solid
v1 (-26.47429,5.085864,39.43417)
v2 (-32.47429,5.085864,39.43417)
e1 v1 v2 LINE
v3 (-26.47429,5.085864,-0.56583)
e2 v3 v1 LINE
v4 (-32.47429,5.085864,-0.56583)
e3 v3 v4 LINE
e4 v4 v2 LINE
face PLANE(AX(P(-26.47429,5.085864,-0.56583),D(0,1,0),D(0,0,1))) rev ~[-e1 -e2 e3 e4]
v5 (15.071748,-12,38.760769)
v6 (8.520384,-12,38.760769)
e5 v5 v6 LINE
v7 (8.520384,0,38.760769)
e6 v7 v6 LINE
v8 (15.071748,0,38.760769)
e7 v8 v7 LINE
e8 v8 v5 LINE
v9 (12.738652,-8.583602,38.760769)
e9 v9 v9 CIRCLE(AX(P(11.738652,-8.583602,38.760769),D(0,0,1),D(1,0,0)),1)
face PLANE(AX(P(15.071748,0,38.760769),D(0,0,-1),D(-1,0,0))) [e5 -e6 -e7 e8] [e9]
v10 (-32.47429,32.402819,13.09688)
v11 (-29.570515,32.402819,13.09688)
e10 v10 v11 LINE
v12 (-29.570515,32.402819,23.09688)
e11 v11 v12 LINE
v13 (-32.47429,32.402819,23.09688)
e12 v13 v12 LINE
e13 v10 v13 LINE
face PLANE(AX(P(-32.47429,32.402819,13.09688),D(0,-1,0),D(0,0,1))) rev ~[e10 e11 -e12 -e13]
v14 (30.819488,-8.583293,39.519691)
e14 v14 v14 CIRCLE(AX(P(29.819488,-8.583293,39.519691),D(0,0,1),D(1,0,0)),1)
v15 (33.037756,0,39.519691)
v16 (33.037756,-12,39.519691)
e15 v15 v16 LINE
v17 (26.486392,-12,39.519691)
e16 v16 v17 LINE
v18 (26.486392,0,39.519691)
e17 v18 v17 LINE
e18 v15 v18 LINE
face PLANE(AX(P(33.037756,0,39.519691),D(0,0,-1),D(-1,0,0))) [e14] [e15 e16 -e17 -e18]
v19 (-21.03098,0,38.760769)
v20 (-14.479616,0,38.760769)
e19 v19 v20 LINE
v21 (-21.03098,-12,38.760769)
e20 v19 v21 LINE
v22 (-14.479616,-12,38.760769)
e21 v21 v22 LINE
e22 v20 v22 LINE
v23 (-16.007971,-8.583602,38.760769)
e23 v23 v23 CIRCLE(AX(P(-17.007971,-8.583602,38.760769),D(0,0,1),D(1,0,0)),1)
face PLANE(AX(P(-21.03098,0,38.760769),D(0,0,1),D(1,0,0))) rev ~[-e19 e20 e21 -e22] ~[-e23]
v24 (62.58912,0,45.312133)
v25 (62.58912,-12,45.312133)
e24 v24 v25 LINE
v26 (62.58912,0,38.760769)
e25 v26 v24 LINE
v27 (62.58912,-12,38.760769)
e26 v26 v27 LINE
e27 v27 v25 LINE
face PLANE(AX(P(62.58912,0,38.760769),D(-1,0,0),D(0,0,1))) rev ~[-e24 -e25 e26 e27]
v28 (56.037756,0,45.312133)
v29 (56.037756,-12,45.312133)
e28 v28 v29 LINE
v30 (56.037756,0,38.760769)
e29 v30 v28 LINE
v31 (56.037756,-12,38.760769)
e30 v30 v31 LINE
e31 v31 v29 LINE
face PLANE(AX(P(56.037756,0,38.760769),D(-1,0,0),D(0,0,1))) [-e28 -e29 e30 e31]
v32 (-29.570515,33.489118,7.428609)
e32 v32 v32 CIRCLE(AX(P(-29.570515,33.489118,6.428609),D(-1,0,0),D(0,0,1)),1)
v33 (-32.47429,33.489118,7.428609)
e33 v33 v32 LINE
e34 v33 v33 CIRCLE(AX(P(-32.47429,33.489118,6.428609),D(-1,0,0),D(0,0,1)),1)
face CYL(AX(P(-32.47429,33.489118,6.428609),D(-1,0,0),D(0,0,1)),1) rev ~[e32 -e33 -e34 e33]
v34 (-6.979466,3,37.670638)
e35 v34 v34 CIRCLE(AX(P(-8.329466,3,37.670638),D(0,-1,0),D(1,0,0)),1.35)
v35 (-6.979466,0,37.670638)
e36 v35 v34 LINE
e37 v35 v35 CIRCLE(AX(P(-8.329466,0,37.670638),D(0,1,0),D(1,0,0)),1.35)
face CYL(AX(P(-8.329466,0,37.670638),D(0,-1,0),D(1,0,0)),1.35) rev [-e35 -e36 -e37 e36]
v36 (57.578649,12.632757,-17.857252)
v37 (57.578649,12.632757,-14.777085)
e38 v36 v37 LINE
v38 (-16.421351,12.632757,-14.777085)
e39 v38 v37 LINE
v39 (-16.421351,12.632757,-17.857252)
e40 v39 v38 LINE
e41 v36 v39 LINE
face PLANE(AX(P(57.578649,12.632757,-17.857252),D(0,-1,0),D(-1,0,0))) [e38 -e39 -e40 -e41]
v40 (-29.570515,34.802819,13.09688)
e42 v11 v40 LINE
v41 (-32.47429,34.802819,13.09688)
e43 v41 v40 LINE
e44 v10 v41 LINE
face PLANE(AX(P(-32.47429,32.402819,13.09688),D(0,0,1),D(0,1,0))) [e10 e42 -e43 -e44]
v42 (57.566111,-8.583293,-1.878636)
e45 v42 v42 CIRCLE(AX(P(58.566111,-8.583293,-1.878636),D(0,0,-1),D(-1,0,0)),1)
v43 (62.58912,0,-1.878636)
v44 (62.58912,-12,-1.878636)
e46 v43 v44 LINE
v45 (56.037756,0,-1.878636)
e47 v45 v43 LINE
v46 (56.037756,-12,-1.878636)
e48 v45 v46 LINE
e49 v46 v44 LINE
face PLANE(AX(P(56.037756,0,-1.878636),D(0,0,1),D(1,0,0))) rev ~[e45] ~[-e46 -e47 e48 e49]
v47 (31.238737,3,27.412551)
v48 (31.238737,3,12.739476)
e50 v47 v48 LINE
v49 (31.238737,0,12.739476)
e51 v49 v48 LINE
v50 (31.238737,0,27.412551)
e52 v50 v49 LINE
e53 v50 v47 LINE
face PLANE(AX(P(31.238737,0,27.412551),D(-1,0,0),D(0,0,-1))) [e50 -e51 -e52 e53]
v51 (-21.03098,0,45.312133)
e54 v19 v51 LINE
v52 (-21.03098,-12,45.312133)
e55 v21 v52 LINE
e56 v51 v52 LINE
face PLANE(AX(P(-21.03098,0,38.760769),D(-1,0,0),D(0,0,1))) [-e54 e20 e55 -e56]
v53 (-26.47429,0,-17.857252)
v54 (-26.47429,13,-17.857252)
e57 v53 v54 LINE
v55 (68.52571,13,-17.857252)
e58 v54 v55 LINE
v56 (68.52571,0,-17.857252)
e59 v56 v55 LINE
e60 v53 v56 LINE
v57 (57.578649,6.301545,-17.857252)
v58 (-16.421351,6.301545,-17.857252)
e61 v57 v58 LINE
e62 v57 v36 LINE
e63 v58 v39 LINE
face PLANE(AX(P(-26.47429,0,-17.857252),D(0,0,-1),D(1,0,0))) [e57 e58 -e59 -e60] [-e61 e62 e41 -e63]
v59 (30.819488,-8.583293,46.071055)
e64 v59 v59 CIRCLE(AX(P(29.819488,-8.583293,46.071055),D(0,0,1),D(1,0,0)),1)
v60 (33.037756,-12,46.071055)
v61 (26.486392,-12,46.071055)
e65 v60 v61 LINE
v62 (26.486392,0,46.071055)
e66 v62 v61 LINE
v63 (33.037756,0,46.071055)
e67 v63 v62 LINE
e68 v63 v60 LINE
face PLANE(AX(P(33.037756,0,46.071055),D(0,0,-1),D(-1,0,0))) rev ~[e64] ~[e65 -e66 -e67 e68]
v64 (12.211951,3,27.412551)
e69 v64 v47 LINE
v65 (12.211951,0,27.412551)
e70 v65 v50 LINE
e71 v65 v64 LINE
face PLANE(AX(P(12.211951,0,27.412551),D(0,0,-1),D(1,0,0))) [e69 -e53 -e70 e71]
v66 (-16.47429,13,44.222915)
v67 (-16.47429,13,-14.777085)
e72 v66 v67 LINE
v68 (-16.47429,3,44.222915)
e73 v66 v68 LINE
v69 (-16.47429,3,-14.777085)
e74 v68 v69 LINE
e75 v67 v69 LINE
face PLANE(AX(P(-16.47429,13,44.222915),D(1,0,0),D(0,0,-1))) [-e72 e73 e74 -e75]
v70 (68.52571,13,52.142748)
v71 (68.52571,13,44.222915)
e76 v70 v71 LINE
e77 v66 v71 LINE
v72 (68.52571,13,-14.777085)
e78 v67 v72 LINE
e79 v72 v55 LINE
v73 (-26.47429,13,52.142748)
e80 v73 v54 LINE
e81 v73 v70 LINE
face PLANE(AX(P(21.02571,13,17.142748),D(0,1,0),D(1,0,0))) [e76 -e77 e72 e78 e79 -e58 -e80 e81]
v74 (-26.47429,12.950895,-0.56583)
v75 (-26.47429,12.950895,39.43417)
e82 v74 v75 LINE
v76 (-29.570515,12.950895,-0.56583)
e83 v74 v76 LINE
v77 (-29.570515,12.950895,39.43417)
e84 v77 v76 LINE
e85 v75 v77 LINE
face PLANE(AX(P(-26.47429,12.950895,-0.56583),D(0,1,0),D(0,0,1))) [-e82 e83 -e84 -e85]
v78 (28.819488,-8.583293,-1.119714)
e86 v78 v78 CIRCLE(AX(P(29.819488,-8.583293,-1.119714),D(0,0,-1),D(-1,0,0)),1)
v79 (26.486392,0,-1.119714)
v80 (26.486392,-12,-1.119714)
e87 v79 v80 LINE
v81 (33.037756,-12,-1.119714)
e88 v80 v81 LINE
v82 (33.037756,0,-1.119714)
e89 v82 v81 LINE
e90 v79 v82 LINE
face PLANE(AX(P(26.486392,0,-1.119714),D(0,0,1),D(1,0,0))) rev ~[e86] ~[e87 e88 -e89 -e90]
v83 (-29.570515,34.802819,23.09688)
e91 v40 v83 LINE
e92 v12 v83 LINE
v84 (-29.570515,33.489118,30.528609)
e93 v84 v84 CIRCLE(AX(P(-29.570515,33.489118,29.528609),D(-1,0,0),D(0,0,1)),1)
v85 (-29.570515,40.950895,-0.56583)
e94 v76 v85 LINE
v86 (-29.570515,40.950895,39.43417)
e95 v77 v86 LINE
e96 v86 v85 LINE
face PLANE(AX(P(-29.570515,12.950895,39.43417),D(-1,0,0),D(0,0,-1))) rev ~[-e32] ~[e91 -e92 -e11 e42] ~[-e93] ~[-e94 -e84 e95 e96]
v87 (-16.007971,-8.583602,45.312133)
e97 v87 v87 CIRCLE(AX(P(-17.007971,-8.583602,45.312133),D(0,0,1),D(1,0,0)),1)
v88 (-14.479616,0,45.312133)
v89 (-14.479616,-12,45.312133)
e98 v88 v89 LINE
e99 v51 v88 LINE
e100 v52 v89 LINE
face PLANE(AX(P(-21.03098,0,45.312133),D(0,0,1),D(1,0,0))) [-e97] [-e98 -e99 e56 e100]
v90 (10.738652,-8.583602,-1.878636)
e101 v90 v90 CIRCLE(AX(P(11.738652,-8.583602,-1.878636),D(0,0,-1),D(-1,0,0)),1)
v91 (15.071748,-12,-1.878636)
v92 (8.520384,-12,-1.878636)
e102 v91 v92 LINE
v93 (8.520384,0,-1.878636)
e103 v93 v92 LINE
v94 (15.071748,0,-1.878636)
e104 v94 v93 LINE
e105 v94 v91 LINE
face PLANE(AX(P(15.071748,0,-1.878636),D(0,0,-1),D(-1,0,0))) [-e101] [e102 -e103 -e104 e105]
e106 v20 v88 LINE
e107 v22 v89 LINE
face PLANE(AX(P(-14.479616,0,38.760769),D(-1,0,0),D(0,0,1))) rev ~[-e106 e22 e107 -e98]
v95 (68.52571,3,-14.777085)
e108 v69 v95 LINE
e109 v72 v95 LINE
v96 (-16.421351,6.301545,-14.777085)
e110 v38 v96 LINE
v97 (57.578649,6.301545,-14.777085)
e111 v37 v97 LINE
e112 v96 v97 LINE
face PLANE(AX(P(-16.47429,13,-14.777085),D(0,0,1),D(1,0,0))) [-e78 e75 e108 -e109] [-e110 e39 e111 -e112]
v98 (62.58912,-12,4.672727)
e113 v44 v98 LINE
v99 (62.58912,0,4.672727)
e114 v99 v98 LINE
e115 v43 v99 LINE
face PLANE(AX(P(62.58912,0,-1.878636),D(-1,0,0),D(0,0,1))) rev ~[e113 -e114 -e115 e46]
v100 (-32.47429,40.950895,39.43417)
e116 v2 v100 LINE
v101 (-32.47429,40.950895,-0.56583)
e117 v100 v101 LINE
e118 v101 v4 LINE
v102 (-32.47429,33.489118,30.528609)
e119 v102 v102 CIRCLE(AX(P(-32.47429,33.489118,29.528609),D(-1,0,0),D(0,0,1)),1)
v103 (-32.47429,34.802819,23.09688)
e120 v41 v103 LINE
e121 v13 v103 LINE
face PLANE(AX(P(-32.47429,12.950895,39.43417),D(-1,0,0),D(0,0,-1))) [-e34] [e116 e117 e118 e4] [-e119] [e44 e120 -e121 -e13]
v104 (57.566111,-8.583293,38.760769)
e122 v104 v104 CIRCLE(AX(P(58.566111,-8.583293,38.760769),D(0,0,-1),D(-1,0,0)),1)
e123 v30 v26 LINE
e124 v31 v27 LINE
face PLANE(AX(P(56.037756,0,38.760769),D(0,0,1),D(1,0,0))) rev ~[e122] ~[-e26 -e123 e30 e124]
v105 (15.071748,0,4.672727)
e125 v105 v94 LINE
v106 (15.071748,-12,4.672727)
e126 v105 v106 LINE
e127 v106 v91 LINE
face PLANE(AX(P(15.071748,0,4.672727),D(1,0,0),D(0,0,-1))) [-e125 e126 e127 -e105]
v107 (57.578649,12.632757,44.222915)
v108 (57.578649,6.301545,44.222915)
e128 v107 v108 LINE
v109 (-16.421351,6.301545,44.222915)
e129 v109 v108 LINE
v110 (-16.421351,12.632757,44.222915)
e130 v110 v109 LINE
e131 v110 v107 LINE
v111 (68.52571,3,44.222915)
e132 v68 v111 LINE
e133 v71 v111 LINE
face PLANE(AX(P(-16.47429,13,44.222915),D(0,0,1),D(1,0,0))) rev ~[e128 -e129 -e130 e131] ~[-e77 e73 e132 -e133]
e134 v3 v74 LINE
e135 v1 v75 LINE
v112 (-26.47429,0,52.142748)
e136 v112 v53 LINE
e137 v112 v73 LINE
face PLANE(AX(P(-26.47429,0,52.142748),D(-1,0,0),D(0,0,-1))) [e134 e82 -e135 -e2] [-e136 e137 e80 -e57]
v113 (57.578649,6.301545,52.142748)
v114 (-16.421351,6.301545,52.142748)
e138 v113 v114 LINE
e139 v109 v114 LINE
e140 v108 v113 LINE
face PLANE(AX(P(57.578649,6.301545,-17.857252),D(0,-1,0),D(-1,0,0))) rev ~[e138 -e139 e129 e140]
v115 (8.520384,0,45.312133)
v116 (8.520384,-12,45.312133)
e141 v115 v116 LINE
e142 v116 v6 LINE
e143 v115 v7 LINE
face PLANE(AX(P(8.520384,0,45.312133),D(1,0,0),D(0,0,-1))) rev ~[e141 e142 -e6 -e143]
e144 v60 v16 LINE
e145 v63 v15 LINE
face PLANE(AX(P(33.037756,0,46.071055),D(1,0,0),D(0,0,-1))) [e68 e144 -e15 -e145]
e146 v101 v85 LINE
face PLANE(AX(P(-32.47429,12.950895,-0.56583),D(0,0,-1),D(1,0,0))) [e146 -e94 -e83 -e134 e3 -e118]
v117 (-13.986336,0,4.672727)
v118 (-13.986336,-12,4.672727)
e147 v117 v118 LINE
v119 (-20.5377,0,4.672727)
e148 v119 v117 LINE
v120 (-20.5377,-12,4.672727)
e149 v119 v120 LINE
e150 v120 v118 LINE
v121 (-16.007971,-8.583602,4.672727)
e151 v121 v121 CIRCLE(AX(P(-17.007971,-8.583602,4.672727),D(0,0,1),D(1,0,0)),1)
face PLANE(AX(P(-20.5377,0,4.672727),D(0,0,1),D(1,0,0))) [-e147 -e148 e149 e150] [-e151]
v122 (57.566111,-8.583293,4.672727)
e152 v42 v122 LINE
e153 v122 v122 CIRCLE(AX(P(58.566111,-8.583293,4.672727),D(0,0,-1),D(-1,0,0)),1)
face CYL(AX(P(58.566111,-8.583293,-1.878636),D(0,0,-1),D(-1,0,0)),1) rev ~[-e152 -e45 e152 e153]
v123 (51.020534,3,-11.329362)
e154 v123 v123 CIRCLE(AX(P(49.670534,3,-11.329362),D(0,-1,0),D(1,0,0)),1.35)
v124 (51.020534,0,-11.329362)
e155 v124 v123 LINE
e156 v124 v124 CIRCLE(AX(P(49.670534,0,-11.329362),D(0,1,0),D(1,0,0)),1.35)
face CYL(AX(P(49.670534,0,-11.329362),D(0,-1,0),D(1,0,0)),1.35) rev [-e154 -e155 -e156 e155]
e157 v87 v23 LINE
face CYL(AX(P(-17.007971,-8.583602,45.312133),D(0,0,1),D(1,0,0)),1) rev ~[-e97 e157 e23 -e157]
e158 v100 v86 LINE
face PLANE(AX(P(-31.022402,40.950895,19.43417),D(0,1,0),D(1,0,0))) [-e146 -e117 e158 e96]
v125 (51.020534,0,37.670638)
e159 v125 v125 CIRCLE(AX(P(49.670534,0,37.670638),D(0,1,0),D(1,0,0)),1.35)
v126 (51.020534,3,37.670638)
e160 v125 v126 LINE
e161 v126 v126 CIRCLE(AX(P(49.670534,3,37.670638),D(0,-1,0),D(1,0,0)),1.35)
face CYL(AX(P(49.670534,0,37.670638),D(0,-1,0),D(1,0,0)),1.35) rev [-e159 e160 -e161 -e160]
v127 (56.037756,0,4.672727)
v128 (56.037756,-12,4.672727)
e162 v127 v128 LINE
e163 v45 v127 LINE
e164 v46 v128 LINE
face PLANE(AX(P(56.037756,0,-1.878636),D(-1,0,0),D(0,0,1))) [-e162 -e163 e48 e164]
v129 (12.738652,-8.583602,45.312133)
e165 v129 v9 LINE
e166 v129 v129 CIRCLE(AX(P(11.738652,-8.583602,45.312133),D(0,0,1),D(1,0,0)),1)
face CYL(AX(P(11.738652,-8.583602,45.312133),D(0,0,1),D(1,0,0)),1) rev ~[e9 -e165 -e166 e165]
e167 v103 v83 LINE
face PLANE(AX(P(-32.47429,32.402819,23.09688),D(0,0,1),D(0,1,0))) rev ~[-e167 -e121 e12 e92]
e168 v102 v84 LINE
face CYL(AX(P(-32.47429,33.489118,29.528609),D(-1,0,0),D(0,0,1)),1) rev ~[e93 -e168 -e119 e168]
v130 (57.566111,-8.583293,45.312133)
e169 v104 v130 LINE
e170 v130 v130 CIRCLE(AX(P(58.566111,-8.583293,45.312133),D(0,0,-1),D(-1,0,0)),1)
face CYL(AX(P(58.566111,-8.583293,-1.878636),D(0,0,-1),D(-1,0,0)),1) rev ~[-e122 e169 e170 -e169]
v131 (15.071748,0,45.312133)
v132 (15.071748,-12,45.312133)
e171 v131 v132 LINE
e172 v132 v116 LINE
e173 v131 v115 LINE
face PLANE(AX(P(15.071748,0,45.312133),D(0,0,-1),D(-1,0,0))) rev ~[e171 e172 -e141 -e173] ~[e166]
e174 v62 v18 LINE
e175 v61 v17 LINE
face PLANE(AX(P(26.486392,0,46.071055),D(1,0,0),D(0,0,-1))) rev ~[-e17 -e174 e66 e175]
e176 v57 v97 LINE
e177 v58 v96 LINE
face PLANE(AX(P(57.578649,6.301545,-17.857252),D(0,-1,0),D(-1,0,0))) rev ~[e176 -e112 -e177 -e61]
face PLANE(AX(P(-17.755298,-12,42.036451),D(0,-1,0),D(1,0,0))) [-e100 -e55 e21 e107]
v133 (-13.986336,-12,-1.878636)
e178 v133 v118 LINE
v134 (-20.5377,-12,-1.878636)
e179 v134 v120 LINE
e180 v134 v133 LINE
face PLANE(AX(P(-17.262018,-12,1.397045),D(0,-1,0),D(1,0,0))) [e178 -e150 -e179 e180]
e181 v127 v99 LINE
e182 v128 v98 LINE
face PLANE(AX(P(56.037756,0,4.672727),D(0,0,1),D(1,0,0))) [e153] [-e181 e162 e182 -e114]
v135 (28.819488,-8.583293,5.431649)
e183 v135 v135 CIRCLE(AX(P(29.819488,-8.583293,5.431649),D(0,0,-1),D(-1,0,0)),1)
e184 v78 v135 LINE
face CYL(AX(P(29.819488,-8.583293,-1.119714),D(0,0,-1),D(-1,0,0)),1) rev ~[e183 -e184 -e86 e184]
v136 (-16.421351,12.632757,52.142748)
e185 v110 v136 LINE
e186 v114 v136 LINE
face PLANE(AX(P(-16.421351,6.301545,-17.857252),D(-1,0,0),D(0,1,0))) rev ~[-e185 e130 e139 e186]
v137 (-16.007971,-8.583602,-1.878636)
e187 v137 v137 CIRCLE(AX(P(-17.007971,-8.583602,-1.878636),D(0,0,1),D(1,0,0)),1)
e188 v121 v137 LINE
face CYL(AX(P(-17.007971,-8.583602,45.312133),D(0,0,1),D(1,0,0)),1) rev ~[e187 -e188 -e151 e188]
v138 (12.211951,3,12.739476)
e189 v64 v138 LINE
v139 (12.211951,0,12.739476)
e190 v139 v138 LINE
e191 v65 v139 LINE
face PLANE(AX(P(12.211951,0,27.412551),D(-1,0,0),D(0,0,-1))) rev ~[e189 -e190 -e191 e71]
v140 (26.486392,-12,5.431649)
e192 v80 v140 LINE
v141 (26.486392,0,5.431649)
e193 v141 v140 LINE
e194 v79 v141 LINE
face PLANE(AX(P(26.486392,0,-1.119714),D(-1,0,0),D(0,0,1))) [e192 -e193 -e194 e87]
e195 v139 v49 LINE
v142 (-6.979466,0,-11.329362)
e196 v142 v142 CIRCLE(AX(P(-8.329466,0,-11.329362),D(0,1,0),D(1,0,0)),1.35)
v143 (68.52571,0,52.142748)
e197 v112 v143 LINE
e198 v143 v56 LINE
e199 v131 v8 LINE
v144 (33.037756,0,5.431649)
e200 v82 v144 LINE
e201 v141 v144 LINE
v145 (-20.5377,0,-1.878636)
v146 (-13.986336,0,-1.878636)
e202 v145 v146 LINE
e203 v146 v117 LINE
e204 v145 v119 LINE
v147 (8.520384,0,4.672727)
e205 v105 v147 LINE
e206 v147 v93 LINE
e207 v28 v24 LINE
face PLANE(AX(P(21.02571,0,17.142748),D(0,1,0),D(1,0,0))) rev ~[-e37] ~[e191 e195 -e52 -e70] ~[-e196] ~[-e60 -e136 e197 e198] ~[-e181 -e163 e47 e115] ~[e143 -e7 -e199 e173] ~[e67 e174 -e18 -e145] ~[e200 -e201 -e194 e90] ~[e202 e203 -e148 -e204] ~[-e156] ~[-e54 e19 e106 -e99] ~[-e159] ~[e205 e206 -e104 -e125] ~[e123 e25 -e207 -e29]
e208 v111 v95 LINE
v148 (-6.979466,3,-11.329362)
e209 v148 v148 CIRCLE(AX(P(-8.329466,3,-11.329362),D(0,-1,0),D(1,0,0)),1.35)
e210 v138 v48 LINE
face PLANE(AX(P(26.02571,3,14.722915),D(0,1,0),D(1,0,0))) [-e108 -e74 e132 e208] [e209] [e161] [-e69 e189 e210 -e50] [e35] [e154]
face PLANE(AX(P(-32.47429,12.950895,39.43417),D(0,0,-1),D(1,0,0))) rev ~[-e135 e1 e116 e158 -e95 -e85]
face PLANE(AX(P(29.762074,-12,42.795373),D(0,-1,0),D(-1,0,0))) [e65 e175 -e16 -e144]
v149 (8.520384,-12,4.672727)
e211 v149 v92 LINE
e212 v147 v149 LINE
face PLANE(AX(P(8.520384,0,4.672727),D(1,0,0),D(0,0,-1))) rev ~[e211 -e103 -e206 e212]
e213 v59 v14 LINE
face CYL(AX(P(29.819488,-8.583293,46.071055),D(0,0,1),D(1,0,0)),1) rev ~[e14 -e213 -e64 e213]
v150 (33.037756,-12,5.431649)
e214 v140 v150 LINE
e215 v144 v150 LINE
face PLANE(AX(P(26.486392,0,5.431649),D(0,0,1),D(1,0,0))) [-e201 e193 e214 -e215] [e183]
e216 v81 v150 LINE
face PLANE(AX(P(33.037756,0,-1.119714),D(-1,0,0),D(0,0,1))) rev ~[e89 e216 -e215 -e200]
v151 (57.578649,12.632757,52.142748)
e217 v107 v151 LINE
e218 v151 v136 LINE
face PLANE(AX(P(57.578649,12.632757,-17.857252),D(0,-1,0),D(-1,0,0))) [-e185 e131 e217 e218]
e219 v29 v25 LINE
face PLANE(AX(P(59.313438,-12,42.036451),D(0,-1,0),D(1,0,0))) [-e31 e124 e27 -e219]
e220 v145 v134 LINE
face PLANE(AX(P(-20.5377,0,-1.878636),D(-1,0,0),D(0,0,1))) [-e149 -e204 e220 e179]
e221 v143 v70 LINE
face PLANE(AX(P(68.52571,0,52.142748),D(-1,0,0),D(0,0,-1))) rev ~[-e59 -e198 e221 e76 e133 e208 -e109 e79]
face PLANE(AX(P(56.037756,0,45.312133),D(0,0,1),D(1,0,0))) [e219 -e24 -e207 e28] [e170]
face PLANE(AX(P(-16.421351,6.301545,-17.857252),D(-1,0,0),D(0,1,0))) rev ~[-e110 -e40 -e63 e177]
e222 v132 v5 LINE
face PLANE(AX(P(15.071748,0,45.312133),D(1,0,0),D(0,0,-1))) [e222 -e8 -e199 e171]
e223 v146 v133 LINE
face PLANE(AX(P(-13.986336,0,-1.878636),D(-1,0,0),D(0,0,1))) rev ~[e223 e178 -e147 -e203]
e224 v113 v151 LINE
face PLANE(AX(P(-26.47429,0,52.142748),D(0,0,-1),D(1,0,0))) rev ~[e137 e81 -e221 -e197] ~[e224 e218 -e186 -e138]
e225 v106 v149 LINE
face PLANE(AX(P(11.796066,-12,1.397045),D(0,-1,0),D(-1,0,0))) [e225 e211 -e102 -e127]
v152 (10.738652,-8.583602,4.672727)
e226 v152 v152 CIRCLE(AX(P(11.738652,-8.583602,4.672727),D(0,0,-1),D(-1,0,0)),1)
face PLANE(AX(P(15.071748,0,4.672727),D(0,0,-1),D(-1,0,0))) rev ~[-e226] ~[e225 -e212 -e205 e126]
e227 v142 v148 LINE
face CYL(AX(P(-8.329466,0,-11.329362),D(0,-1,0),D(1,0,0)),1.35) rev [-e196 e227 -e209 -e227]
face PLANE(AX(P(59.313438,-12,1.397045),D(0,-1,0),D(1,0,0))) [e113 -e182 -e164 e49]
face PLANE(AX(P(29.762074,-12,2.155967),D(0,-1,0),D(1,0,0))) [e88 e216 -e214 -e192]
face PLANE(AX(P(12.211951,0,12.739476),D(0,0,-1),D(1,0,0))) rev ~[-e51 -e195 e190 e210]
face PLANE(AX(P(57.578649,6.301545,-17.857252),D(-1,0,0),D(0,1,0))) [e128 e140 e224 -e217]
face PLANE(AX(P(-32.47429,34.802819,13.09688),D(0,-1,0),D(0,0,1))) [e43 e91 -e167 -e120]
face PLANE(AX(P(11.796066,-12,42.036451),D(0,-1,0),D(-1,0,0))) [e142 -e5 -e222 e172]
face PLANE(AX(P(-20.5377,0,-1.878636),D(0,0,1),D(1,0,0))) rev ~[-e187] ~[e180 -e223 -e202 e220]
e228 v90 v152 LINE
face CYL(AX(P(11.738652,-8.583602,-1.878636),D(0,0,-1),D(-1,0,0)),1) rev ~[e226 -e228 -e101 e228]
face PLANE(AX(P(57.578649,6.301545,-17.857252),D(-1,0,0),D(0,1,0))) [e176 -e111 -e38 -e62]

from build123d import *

# Parameters (mm, degrees)
SKETCH_1_W           = 95
SKETCH_1_H           = 70
SKETCH_1_R           = 1.35
SKETCH_1_W_2         = 19.026786566
SKETCH_1_H_2         = 14.673074928
EXTRUDE_1_DEPTH      = 13
SKETCH_3_W           = 85
SKETCH_3_H           = 59
CUT_EXTRUDE_1_DEPTH  = 10
SKETCH_4_W           = 6.551363844
SKETCH_4_H           = 6.551363844
EXTRUDE_2_DEPTH      = 12
SKETCH_7_W           = 6.551363844
SKETCH_7_H           = 6.551363844
EXTRUDE_3_DEPTH      = 12
SKETCH_9_R           = 1
CUT_EXTRUDE_4_DEPTH  = 63
SKETCH_5_R           = 1
CUT_EXTRUDE_5_DEPTH  = 56
SKETCH_12_W          = 6.551363844
SKETCH_12_H          = 6.551363844
EXTRUDE_4_DEPTH      = 12
SKETCH_13_R          = 1
CUT_EXTRUDE_6_DEPTH  = 9
SKETCH_15_R          = 1
CUT_EXTRUDE_7_DEPTH  = 51
SKETCH_17_W          = 6.551363844
SKETCH_17_H          = 6.551363844
EXTRUDE_5_DEPTH      = 12
SKETCH_18_R          = 1
CUT_EXTRUDE_8_DEPTH  = 12
SKETCH_19_R          = 1
CUT_EXTRUDE_9_DEPTH  = 12
SKETCH_20_W          = 40
SKETCH_20_H          = 7.86503053
EXTRUDE_6_DEPTH      = 6
SKETCH_21_W          = 2.903775518
SKETCH_21_H          = 40
EXTRUDE_7_DEPTH      = 28
SKETCH_22_W          = 74
SKETCH_22_H          = 6.331212291
CUT_EXTRUDE_10_DEPTH = 78
SKETCH_23_W          = 10
SKETCH_23_H          = 2.4
CUT_EXTRUDE_13_DEPTH = 10
SKETCH_25_R          = 1
CUT_EXTRUDE_14_DEPTH = 10


with BuildPart() as part:
    # 草图1 → 凸台-拉伸1 (new body)
    with BuildSketch(Plane(origin=(0, 0, 0), x_dir=(1, 0, 0), z_dir=(0, 1, 0))):
        with Locations((21.0257099, -17.142747506)):
            Rectangle(SKETCH_1_W, SKETCH_1_H)
        with Locations((49.670533911, 11.329362359)):
            Circle(SKETCH_1_R, mode=Mode.SUBTRACT)
        with Locations((49.670533911, -37.670637641)):
            Circle(SKETCH_1_R, mode=Mode.SUBTRACT)
        with Locations((-8.329466089, -37.670637641)):
            Circle(SKETCH_1_R, mode=Mode.SUBTRACT)
        with Locations((-8.329466089, 11.329362359)):
            Circle(SKETCH_1_R, mode=Mode.SUBTRACT)
        with Locations((21.72534394, -20.076013692)):
            Rectangle(SKETCH_1_W_2, SKETCH_1_H_2, mode=Mode.SUBTRACT)
    extrude(amount=EXTRUDE_1_DEPTH)

    # 草图3 → 切除-拉伸1 (cut)
    with BuildSketch(Plane(origin=(0, 13, 0), x_dir=(1, 0, 0), z_dir=(0, 1, 0))):
        with Locations((26.0257099, -14.722914633)):
            Rectangle(SKETCH_3_W, SKETCH_3_H)
    extrude(amount=-CUT_EXTRUDE_1_DEPTH, mode=Mode.SUBTRACT)

    # 草图4 → 凸台-拉伸2 (add)
    with BuildSketch(Plane.XZ):
        with Locations((-17.262018052, 1.397045451)):
            Rectangle(SKETCH_4_W, SKETCH_4_H)
        with Locations((-17.755298179, 42.036450596)):
            Rectangle(SKETCH_4_W, SKETCH_4_H)
        with Locations((59.313437853, 1.397045451)):
            Rectangle(SKETCH_4_W, SKETCH_4_H)
        with Locations((59.313437853, 42.036450596)):
            Rectangle(SKETCH_4_W, SKETCH_4_H)
    extrude(amount=EXTRUDE_2_DEPTH)

    # 草图7 → 凸台-拉伸3 (add)
    with BuildSketch(Plane.XZ):
        with Locations((29.762074009, 2.155967477)):
            Rectangle(SKETCH_7_W, SKETCH_7_H)
    extrude(amount=EXTRUDE_3_DEPTH)

    # 草图9 → 切除-拉伸4 (cut)
    with BuildSketch(Plane(origin=(0, 0, -1.119714445), x_dir=(-1, 0, 0), z_dir=(0, 0, -1))):
        with Locations((-29.819487591, -8.583293227)):
            Circle(SKETCH_9_R)
    extrude(amount=-CUT_EXTRUDE_4_DEPTH, mode=Mode.SUBTRACT)

    # 草图5 → 切除-拉伸5 (cut)
    with BuildSketch(Plane(origin=(0, 0, -1.878636471), x_dir=(-1, 0, 0), z_dir=(0, 0, -1))):
        with Locations((-58.566110561, -8.583293227)):
            Circle(SKETCH_5_R)
    extrude(amount=-CUT_EXTRUDE_5_DEPTH, mode=Mode.SUBTRACT)

    # 草图12 → 凸台-拉伸4 (add)
    with BuildSketch(Plane(origin=(0, 0, 0), x_dir=(-1, 0, 0), z_dir=(0, -1, 0))):
        with Locations((-29.762074009, -42.795372621)):
            Rectangle(SKETCH_12_W, SKETCH_12_H)
    extrude(amount=EXTRUDE_4_DEPTH)

    # 草图13 → 切除-拉伸6 (cut)
    with BuildSketch(Plane.XY.offset(46.071054543)):
        with Locations((29.819487591, -8.583293227)):
            Circle(SKETCH_13_R)
    extrude(amount=-CUT_EXTRUDE_6_DEPTH, mode=Mode.SUBTRACT)

    # 草图15 → 切除-拉伸7 (cut)
    with BuildSketch(Plane.XY.offset(45.312132518)):
        with Locations((-17.007970887, -8.583602404)):
            Circle(SKETCH_15_R)
    extrude(amount=-CUT_EXTRUDE_7_DEPTH, mode=Mode.SUBTRACT)

    # 草图17 → 凸台-拉伸5 (add)
    with BuildSketch(Plane(origin=(0, 0, 0), x_dir=(-1, 0, 0), z_dir=(0, -1, 0))):
        with Locations((-11.796065665, -42.036450596)):
            Rectangle(SKETCH_17_W, SKETCH_17_H)
        with Locations((-11.796065665, -1.397045451)):
            Rectangle(SKETCH_17_W, SKETCH_17_H)
    extrude(amount=EXTRUDE_5_DEPTH)

    # 草图18 → 切除-拉伸8 (cut)
    with BuildSketch(Plane.XY.offset(45.312132518)):
        with Locations((11.738652082, -8.583602404)):
            Circle(SKETCH_18_R)
    extrude(amount=-CUT_EXTRUDE_8_DEPTH, mode=Mode.SUBTRACT)

    # 草图19 → 切除-拉伸9 (cut)
    with BuildSketch(Plane(origin=(0, 0, -1.878636471), x_dir=(-1, 0, 0), z_dir=(0, 0, -1))):
        with Locations((-11.738652082, -8.583602404)):
            Circle(SKETCH_19_R)
    extrude(amount=-CUT_EXTRUDE_9_DEPTH, mode=Mode.SUBTRACT)

    # 草图20 → 凸台-拉伸6 (add)
    with BuildSketch(Plane.ZY.offset(26.4742901)):
        with Locations((19.434170465, 9.018379662)):
            Rectangle(SKETCH_20_W, SKETCH_20_H)
    extrude(amount=EXTRUDE_6_DEPTH)

    # 草图21 → 凸台-拉伸7 (add)
    with BuildSketch(Plane(origin=(0, 12.950894927, 0), x_dir=(1, 0, 0), z_dir=(0, 1, 0))):
        with Locations((-31.022402341, -19.434170465)):
            Rectangle(SKETCH_21_W, SKETCH_21_H)
    extrude(amount=EXTRUDE_7_DEPTH)

    # 草图22 → 切除-拉伸10 (cut)
    with BuildSketch(Plane(origin=(0, 0, -17.857252494), x_dir=(-1, 0, 0), z_dir=(0, 0, -1))):
        with Locations((-20.578648713, 9.467151169)):
            Rectangle(SKETCH_22_W, SKETCH_22_H)
    extrude(amount=-CUT_EXTRUDE_10_DEPTH, mode=Mode.SUBTRACT)

    # 草图23 → 切除-拉伸13 (cut)
    with BuildSketch(Plane.ZY.offset(32.4742901)):
        with Locations((18.096879679, 33.602818556)):
            Rectangle(SKETCH_23_W, SKETCH_23_H)
    extrude(amount=-CUT_EXTRUDE_13_DEPTH, mode=Mode.SUBTRACT)

    # 草图25 → 切除-拉伸14 (cut)
    with BuildSketch(Plane.ZY.offset(32.4742901)):
        with Locations((6.428608959, 33.489118381)):
            Circle(SKETCH_25_R)
        with Locations((29.528608959, 33.489118381)):
            Circle(SKETCH_25_R)
    extrude(amount=-CUT_EXTRUDE_14_DEPTH, mode=Mode.SUBTRACT)


solid = part.part
